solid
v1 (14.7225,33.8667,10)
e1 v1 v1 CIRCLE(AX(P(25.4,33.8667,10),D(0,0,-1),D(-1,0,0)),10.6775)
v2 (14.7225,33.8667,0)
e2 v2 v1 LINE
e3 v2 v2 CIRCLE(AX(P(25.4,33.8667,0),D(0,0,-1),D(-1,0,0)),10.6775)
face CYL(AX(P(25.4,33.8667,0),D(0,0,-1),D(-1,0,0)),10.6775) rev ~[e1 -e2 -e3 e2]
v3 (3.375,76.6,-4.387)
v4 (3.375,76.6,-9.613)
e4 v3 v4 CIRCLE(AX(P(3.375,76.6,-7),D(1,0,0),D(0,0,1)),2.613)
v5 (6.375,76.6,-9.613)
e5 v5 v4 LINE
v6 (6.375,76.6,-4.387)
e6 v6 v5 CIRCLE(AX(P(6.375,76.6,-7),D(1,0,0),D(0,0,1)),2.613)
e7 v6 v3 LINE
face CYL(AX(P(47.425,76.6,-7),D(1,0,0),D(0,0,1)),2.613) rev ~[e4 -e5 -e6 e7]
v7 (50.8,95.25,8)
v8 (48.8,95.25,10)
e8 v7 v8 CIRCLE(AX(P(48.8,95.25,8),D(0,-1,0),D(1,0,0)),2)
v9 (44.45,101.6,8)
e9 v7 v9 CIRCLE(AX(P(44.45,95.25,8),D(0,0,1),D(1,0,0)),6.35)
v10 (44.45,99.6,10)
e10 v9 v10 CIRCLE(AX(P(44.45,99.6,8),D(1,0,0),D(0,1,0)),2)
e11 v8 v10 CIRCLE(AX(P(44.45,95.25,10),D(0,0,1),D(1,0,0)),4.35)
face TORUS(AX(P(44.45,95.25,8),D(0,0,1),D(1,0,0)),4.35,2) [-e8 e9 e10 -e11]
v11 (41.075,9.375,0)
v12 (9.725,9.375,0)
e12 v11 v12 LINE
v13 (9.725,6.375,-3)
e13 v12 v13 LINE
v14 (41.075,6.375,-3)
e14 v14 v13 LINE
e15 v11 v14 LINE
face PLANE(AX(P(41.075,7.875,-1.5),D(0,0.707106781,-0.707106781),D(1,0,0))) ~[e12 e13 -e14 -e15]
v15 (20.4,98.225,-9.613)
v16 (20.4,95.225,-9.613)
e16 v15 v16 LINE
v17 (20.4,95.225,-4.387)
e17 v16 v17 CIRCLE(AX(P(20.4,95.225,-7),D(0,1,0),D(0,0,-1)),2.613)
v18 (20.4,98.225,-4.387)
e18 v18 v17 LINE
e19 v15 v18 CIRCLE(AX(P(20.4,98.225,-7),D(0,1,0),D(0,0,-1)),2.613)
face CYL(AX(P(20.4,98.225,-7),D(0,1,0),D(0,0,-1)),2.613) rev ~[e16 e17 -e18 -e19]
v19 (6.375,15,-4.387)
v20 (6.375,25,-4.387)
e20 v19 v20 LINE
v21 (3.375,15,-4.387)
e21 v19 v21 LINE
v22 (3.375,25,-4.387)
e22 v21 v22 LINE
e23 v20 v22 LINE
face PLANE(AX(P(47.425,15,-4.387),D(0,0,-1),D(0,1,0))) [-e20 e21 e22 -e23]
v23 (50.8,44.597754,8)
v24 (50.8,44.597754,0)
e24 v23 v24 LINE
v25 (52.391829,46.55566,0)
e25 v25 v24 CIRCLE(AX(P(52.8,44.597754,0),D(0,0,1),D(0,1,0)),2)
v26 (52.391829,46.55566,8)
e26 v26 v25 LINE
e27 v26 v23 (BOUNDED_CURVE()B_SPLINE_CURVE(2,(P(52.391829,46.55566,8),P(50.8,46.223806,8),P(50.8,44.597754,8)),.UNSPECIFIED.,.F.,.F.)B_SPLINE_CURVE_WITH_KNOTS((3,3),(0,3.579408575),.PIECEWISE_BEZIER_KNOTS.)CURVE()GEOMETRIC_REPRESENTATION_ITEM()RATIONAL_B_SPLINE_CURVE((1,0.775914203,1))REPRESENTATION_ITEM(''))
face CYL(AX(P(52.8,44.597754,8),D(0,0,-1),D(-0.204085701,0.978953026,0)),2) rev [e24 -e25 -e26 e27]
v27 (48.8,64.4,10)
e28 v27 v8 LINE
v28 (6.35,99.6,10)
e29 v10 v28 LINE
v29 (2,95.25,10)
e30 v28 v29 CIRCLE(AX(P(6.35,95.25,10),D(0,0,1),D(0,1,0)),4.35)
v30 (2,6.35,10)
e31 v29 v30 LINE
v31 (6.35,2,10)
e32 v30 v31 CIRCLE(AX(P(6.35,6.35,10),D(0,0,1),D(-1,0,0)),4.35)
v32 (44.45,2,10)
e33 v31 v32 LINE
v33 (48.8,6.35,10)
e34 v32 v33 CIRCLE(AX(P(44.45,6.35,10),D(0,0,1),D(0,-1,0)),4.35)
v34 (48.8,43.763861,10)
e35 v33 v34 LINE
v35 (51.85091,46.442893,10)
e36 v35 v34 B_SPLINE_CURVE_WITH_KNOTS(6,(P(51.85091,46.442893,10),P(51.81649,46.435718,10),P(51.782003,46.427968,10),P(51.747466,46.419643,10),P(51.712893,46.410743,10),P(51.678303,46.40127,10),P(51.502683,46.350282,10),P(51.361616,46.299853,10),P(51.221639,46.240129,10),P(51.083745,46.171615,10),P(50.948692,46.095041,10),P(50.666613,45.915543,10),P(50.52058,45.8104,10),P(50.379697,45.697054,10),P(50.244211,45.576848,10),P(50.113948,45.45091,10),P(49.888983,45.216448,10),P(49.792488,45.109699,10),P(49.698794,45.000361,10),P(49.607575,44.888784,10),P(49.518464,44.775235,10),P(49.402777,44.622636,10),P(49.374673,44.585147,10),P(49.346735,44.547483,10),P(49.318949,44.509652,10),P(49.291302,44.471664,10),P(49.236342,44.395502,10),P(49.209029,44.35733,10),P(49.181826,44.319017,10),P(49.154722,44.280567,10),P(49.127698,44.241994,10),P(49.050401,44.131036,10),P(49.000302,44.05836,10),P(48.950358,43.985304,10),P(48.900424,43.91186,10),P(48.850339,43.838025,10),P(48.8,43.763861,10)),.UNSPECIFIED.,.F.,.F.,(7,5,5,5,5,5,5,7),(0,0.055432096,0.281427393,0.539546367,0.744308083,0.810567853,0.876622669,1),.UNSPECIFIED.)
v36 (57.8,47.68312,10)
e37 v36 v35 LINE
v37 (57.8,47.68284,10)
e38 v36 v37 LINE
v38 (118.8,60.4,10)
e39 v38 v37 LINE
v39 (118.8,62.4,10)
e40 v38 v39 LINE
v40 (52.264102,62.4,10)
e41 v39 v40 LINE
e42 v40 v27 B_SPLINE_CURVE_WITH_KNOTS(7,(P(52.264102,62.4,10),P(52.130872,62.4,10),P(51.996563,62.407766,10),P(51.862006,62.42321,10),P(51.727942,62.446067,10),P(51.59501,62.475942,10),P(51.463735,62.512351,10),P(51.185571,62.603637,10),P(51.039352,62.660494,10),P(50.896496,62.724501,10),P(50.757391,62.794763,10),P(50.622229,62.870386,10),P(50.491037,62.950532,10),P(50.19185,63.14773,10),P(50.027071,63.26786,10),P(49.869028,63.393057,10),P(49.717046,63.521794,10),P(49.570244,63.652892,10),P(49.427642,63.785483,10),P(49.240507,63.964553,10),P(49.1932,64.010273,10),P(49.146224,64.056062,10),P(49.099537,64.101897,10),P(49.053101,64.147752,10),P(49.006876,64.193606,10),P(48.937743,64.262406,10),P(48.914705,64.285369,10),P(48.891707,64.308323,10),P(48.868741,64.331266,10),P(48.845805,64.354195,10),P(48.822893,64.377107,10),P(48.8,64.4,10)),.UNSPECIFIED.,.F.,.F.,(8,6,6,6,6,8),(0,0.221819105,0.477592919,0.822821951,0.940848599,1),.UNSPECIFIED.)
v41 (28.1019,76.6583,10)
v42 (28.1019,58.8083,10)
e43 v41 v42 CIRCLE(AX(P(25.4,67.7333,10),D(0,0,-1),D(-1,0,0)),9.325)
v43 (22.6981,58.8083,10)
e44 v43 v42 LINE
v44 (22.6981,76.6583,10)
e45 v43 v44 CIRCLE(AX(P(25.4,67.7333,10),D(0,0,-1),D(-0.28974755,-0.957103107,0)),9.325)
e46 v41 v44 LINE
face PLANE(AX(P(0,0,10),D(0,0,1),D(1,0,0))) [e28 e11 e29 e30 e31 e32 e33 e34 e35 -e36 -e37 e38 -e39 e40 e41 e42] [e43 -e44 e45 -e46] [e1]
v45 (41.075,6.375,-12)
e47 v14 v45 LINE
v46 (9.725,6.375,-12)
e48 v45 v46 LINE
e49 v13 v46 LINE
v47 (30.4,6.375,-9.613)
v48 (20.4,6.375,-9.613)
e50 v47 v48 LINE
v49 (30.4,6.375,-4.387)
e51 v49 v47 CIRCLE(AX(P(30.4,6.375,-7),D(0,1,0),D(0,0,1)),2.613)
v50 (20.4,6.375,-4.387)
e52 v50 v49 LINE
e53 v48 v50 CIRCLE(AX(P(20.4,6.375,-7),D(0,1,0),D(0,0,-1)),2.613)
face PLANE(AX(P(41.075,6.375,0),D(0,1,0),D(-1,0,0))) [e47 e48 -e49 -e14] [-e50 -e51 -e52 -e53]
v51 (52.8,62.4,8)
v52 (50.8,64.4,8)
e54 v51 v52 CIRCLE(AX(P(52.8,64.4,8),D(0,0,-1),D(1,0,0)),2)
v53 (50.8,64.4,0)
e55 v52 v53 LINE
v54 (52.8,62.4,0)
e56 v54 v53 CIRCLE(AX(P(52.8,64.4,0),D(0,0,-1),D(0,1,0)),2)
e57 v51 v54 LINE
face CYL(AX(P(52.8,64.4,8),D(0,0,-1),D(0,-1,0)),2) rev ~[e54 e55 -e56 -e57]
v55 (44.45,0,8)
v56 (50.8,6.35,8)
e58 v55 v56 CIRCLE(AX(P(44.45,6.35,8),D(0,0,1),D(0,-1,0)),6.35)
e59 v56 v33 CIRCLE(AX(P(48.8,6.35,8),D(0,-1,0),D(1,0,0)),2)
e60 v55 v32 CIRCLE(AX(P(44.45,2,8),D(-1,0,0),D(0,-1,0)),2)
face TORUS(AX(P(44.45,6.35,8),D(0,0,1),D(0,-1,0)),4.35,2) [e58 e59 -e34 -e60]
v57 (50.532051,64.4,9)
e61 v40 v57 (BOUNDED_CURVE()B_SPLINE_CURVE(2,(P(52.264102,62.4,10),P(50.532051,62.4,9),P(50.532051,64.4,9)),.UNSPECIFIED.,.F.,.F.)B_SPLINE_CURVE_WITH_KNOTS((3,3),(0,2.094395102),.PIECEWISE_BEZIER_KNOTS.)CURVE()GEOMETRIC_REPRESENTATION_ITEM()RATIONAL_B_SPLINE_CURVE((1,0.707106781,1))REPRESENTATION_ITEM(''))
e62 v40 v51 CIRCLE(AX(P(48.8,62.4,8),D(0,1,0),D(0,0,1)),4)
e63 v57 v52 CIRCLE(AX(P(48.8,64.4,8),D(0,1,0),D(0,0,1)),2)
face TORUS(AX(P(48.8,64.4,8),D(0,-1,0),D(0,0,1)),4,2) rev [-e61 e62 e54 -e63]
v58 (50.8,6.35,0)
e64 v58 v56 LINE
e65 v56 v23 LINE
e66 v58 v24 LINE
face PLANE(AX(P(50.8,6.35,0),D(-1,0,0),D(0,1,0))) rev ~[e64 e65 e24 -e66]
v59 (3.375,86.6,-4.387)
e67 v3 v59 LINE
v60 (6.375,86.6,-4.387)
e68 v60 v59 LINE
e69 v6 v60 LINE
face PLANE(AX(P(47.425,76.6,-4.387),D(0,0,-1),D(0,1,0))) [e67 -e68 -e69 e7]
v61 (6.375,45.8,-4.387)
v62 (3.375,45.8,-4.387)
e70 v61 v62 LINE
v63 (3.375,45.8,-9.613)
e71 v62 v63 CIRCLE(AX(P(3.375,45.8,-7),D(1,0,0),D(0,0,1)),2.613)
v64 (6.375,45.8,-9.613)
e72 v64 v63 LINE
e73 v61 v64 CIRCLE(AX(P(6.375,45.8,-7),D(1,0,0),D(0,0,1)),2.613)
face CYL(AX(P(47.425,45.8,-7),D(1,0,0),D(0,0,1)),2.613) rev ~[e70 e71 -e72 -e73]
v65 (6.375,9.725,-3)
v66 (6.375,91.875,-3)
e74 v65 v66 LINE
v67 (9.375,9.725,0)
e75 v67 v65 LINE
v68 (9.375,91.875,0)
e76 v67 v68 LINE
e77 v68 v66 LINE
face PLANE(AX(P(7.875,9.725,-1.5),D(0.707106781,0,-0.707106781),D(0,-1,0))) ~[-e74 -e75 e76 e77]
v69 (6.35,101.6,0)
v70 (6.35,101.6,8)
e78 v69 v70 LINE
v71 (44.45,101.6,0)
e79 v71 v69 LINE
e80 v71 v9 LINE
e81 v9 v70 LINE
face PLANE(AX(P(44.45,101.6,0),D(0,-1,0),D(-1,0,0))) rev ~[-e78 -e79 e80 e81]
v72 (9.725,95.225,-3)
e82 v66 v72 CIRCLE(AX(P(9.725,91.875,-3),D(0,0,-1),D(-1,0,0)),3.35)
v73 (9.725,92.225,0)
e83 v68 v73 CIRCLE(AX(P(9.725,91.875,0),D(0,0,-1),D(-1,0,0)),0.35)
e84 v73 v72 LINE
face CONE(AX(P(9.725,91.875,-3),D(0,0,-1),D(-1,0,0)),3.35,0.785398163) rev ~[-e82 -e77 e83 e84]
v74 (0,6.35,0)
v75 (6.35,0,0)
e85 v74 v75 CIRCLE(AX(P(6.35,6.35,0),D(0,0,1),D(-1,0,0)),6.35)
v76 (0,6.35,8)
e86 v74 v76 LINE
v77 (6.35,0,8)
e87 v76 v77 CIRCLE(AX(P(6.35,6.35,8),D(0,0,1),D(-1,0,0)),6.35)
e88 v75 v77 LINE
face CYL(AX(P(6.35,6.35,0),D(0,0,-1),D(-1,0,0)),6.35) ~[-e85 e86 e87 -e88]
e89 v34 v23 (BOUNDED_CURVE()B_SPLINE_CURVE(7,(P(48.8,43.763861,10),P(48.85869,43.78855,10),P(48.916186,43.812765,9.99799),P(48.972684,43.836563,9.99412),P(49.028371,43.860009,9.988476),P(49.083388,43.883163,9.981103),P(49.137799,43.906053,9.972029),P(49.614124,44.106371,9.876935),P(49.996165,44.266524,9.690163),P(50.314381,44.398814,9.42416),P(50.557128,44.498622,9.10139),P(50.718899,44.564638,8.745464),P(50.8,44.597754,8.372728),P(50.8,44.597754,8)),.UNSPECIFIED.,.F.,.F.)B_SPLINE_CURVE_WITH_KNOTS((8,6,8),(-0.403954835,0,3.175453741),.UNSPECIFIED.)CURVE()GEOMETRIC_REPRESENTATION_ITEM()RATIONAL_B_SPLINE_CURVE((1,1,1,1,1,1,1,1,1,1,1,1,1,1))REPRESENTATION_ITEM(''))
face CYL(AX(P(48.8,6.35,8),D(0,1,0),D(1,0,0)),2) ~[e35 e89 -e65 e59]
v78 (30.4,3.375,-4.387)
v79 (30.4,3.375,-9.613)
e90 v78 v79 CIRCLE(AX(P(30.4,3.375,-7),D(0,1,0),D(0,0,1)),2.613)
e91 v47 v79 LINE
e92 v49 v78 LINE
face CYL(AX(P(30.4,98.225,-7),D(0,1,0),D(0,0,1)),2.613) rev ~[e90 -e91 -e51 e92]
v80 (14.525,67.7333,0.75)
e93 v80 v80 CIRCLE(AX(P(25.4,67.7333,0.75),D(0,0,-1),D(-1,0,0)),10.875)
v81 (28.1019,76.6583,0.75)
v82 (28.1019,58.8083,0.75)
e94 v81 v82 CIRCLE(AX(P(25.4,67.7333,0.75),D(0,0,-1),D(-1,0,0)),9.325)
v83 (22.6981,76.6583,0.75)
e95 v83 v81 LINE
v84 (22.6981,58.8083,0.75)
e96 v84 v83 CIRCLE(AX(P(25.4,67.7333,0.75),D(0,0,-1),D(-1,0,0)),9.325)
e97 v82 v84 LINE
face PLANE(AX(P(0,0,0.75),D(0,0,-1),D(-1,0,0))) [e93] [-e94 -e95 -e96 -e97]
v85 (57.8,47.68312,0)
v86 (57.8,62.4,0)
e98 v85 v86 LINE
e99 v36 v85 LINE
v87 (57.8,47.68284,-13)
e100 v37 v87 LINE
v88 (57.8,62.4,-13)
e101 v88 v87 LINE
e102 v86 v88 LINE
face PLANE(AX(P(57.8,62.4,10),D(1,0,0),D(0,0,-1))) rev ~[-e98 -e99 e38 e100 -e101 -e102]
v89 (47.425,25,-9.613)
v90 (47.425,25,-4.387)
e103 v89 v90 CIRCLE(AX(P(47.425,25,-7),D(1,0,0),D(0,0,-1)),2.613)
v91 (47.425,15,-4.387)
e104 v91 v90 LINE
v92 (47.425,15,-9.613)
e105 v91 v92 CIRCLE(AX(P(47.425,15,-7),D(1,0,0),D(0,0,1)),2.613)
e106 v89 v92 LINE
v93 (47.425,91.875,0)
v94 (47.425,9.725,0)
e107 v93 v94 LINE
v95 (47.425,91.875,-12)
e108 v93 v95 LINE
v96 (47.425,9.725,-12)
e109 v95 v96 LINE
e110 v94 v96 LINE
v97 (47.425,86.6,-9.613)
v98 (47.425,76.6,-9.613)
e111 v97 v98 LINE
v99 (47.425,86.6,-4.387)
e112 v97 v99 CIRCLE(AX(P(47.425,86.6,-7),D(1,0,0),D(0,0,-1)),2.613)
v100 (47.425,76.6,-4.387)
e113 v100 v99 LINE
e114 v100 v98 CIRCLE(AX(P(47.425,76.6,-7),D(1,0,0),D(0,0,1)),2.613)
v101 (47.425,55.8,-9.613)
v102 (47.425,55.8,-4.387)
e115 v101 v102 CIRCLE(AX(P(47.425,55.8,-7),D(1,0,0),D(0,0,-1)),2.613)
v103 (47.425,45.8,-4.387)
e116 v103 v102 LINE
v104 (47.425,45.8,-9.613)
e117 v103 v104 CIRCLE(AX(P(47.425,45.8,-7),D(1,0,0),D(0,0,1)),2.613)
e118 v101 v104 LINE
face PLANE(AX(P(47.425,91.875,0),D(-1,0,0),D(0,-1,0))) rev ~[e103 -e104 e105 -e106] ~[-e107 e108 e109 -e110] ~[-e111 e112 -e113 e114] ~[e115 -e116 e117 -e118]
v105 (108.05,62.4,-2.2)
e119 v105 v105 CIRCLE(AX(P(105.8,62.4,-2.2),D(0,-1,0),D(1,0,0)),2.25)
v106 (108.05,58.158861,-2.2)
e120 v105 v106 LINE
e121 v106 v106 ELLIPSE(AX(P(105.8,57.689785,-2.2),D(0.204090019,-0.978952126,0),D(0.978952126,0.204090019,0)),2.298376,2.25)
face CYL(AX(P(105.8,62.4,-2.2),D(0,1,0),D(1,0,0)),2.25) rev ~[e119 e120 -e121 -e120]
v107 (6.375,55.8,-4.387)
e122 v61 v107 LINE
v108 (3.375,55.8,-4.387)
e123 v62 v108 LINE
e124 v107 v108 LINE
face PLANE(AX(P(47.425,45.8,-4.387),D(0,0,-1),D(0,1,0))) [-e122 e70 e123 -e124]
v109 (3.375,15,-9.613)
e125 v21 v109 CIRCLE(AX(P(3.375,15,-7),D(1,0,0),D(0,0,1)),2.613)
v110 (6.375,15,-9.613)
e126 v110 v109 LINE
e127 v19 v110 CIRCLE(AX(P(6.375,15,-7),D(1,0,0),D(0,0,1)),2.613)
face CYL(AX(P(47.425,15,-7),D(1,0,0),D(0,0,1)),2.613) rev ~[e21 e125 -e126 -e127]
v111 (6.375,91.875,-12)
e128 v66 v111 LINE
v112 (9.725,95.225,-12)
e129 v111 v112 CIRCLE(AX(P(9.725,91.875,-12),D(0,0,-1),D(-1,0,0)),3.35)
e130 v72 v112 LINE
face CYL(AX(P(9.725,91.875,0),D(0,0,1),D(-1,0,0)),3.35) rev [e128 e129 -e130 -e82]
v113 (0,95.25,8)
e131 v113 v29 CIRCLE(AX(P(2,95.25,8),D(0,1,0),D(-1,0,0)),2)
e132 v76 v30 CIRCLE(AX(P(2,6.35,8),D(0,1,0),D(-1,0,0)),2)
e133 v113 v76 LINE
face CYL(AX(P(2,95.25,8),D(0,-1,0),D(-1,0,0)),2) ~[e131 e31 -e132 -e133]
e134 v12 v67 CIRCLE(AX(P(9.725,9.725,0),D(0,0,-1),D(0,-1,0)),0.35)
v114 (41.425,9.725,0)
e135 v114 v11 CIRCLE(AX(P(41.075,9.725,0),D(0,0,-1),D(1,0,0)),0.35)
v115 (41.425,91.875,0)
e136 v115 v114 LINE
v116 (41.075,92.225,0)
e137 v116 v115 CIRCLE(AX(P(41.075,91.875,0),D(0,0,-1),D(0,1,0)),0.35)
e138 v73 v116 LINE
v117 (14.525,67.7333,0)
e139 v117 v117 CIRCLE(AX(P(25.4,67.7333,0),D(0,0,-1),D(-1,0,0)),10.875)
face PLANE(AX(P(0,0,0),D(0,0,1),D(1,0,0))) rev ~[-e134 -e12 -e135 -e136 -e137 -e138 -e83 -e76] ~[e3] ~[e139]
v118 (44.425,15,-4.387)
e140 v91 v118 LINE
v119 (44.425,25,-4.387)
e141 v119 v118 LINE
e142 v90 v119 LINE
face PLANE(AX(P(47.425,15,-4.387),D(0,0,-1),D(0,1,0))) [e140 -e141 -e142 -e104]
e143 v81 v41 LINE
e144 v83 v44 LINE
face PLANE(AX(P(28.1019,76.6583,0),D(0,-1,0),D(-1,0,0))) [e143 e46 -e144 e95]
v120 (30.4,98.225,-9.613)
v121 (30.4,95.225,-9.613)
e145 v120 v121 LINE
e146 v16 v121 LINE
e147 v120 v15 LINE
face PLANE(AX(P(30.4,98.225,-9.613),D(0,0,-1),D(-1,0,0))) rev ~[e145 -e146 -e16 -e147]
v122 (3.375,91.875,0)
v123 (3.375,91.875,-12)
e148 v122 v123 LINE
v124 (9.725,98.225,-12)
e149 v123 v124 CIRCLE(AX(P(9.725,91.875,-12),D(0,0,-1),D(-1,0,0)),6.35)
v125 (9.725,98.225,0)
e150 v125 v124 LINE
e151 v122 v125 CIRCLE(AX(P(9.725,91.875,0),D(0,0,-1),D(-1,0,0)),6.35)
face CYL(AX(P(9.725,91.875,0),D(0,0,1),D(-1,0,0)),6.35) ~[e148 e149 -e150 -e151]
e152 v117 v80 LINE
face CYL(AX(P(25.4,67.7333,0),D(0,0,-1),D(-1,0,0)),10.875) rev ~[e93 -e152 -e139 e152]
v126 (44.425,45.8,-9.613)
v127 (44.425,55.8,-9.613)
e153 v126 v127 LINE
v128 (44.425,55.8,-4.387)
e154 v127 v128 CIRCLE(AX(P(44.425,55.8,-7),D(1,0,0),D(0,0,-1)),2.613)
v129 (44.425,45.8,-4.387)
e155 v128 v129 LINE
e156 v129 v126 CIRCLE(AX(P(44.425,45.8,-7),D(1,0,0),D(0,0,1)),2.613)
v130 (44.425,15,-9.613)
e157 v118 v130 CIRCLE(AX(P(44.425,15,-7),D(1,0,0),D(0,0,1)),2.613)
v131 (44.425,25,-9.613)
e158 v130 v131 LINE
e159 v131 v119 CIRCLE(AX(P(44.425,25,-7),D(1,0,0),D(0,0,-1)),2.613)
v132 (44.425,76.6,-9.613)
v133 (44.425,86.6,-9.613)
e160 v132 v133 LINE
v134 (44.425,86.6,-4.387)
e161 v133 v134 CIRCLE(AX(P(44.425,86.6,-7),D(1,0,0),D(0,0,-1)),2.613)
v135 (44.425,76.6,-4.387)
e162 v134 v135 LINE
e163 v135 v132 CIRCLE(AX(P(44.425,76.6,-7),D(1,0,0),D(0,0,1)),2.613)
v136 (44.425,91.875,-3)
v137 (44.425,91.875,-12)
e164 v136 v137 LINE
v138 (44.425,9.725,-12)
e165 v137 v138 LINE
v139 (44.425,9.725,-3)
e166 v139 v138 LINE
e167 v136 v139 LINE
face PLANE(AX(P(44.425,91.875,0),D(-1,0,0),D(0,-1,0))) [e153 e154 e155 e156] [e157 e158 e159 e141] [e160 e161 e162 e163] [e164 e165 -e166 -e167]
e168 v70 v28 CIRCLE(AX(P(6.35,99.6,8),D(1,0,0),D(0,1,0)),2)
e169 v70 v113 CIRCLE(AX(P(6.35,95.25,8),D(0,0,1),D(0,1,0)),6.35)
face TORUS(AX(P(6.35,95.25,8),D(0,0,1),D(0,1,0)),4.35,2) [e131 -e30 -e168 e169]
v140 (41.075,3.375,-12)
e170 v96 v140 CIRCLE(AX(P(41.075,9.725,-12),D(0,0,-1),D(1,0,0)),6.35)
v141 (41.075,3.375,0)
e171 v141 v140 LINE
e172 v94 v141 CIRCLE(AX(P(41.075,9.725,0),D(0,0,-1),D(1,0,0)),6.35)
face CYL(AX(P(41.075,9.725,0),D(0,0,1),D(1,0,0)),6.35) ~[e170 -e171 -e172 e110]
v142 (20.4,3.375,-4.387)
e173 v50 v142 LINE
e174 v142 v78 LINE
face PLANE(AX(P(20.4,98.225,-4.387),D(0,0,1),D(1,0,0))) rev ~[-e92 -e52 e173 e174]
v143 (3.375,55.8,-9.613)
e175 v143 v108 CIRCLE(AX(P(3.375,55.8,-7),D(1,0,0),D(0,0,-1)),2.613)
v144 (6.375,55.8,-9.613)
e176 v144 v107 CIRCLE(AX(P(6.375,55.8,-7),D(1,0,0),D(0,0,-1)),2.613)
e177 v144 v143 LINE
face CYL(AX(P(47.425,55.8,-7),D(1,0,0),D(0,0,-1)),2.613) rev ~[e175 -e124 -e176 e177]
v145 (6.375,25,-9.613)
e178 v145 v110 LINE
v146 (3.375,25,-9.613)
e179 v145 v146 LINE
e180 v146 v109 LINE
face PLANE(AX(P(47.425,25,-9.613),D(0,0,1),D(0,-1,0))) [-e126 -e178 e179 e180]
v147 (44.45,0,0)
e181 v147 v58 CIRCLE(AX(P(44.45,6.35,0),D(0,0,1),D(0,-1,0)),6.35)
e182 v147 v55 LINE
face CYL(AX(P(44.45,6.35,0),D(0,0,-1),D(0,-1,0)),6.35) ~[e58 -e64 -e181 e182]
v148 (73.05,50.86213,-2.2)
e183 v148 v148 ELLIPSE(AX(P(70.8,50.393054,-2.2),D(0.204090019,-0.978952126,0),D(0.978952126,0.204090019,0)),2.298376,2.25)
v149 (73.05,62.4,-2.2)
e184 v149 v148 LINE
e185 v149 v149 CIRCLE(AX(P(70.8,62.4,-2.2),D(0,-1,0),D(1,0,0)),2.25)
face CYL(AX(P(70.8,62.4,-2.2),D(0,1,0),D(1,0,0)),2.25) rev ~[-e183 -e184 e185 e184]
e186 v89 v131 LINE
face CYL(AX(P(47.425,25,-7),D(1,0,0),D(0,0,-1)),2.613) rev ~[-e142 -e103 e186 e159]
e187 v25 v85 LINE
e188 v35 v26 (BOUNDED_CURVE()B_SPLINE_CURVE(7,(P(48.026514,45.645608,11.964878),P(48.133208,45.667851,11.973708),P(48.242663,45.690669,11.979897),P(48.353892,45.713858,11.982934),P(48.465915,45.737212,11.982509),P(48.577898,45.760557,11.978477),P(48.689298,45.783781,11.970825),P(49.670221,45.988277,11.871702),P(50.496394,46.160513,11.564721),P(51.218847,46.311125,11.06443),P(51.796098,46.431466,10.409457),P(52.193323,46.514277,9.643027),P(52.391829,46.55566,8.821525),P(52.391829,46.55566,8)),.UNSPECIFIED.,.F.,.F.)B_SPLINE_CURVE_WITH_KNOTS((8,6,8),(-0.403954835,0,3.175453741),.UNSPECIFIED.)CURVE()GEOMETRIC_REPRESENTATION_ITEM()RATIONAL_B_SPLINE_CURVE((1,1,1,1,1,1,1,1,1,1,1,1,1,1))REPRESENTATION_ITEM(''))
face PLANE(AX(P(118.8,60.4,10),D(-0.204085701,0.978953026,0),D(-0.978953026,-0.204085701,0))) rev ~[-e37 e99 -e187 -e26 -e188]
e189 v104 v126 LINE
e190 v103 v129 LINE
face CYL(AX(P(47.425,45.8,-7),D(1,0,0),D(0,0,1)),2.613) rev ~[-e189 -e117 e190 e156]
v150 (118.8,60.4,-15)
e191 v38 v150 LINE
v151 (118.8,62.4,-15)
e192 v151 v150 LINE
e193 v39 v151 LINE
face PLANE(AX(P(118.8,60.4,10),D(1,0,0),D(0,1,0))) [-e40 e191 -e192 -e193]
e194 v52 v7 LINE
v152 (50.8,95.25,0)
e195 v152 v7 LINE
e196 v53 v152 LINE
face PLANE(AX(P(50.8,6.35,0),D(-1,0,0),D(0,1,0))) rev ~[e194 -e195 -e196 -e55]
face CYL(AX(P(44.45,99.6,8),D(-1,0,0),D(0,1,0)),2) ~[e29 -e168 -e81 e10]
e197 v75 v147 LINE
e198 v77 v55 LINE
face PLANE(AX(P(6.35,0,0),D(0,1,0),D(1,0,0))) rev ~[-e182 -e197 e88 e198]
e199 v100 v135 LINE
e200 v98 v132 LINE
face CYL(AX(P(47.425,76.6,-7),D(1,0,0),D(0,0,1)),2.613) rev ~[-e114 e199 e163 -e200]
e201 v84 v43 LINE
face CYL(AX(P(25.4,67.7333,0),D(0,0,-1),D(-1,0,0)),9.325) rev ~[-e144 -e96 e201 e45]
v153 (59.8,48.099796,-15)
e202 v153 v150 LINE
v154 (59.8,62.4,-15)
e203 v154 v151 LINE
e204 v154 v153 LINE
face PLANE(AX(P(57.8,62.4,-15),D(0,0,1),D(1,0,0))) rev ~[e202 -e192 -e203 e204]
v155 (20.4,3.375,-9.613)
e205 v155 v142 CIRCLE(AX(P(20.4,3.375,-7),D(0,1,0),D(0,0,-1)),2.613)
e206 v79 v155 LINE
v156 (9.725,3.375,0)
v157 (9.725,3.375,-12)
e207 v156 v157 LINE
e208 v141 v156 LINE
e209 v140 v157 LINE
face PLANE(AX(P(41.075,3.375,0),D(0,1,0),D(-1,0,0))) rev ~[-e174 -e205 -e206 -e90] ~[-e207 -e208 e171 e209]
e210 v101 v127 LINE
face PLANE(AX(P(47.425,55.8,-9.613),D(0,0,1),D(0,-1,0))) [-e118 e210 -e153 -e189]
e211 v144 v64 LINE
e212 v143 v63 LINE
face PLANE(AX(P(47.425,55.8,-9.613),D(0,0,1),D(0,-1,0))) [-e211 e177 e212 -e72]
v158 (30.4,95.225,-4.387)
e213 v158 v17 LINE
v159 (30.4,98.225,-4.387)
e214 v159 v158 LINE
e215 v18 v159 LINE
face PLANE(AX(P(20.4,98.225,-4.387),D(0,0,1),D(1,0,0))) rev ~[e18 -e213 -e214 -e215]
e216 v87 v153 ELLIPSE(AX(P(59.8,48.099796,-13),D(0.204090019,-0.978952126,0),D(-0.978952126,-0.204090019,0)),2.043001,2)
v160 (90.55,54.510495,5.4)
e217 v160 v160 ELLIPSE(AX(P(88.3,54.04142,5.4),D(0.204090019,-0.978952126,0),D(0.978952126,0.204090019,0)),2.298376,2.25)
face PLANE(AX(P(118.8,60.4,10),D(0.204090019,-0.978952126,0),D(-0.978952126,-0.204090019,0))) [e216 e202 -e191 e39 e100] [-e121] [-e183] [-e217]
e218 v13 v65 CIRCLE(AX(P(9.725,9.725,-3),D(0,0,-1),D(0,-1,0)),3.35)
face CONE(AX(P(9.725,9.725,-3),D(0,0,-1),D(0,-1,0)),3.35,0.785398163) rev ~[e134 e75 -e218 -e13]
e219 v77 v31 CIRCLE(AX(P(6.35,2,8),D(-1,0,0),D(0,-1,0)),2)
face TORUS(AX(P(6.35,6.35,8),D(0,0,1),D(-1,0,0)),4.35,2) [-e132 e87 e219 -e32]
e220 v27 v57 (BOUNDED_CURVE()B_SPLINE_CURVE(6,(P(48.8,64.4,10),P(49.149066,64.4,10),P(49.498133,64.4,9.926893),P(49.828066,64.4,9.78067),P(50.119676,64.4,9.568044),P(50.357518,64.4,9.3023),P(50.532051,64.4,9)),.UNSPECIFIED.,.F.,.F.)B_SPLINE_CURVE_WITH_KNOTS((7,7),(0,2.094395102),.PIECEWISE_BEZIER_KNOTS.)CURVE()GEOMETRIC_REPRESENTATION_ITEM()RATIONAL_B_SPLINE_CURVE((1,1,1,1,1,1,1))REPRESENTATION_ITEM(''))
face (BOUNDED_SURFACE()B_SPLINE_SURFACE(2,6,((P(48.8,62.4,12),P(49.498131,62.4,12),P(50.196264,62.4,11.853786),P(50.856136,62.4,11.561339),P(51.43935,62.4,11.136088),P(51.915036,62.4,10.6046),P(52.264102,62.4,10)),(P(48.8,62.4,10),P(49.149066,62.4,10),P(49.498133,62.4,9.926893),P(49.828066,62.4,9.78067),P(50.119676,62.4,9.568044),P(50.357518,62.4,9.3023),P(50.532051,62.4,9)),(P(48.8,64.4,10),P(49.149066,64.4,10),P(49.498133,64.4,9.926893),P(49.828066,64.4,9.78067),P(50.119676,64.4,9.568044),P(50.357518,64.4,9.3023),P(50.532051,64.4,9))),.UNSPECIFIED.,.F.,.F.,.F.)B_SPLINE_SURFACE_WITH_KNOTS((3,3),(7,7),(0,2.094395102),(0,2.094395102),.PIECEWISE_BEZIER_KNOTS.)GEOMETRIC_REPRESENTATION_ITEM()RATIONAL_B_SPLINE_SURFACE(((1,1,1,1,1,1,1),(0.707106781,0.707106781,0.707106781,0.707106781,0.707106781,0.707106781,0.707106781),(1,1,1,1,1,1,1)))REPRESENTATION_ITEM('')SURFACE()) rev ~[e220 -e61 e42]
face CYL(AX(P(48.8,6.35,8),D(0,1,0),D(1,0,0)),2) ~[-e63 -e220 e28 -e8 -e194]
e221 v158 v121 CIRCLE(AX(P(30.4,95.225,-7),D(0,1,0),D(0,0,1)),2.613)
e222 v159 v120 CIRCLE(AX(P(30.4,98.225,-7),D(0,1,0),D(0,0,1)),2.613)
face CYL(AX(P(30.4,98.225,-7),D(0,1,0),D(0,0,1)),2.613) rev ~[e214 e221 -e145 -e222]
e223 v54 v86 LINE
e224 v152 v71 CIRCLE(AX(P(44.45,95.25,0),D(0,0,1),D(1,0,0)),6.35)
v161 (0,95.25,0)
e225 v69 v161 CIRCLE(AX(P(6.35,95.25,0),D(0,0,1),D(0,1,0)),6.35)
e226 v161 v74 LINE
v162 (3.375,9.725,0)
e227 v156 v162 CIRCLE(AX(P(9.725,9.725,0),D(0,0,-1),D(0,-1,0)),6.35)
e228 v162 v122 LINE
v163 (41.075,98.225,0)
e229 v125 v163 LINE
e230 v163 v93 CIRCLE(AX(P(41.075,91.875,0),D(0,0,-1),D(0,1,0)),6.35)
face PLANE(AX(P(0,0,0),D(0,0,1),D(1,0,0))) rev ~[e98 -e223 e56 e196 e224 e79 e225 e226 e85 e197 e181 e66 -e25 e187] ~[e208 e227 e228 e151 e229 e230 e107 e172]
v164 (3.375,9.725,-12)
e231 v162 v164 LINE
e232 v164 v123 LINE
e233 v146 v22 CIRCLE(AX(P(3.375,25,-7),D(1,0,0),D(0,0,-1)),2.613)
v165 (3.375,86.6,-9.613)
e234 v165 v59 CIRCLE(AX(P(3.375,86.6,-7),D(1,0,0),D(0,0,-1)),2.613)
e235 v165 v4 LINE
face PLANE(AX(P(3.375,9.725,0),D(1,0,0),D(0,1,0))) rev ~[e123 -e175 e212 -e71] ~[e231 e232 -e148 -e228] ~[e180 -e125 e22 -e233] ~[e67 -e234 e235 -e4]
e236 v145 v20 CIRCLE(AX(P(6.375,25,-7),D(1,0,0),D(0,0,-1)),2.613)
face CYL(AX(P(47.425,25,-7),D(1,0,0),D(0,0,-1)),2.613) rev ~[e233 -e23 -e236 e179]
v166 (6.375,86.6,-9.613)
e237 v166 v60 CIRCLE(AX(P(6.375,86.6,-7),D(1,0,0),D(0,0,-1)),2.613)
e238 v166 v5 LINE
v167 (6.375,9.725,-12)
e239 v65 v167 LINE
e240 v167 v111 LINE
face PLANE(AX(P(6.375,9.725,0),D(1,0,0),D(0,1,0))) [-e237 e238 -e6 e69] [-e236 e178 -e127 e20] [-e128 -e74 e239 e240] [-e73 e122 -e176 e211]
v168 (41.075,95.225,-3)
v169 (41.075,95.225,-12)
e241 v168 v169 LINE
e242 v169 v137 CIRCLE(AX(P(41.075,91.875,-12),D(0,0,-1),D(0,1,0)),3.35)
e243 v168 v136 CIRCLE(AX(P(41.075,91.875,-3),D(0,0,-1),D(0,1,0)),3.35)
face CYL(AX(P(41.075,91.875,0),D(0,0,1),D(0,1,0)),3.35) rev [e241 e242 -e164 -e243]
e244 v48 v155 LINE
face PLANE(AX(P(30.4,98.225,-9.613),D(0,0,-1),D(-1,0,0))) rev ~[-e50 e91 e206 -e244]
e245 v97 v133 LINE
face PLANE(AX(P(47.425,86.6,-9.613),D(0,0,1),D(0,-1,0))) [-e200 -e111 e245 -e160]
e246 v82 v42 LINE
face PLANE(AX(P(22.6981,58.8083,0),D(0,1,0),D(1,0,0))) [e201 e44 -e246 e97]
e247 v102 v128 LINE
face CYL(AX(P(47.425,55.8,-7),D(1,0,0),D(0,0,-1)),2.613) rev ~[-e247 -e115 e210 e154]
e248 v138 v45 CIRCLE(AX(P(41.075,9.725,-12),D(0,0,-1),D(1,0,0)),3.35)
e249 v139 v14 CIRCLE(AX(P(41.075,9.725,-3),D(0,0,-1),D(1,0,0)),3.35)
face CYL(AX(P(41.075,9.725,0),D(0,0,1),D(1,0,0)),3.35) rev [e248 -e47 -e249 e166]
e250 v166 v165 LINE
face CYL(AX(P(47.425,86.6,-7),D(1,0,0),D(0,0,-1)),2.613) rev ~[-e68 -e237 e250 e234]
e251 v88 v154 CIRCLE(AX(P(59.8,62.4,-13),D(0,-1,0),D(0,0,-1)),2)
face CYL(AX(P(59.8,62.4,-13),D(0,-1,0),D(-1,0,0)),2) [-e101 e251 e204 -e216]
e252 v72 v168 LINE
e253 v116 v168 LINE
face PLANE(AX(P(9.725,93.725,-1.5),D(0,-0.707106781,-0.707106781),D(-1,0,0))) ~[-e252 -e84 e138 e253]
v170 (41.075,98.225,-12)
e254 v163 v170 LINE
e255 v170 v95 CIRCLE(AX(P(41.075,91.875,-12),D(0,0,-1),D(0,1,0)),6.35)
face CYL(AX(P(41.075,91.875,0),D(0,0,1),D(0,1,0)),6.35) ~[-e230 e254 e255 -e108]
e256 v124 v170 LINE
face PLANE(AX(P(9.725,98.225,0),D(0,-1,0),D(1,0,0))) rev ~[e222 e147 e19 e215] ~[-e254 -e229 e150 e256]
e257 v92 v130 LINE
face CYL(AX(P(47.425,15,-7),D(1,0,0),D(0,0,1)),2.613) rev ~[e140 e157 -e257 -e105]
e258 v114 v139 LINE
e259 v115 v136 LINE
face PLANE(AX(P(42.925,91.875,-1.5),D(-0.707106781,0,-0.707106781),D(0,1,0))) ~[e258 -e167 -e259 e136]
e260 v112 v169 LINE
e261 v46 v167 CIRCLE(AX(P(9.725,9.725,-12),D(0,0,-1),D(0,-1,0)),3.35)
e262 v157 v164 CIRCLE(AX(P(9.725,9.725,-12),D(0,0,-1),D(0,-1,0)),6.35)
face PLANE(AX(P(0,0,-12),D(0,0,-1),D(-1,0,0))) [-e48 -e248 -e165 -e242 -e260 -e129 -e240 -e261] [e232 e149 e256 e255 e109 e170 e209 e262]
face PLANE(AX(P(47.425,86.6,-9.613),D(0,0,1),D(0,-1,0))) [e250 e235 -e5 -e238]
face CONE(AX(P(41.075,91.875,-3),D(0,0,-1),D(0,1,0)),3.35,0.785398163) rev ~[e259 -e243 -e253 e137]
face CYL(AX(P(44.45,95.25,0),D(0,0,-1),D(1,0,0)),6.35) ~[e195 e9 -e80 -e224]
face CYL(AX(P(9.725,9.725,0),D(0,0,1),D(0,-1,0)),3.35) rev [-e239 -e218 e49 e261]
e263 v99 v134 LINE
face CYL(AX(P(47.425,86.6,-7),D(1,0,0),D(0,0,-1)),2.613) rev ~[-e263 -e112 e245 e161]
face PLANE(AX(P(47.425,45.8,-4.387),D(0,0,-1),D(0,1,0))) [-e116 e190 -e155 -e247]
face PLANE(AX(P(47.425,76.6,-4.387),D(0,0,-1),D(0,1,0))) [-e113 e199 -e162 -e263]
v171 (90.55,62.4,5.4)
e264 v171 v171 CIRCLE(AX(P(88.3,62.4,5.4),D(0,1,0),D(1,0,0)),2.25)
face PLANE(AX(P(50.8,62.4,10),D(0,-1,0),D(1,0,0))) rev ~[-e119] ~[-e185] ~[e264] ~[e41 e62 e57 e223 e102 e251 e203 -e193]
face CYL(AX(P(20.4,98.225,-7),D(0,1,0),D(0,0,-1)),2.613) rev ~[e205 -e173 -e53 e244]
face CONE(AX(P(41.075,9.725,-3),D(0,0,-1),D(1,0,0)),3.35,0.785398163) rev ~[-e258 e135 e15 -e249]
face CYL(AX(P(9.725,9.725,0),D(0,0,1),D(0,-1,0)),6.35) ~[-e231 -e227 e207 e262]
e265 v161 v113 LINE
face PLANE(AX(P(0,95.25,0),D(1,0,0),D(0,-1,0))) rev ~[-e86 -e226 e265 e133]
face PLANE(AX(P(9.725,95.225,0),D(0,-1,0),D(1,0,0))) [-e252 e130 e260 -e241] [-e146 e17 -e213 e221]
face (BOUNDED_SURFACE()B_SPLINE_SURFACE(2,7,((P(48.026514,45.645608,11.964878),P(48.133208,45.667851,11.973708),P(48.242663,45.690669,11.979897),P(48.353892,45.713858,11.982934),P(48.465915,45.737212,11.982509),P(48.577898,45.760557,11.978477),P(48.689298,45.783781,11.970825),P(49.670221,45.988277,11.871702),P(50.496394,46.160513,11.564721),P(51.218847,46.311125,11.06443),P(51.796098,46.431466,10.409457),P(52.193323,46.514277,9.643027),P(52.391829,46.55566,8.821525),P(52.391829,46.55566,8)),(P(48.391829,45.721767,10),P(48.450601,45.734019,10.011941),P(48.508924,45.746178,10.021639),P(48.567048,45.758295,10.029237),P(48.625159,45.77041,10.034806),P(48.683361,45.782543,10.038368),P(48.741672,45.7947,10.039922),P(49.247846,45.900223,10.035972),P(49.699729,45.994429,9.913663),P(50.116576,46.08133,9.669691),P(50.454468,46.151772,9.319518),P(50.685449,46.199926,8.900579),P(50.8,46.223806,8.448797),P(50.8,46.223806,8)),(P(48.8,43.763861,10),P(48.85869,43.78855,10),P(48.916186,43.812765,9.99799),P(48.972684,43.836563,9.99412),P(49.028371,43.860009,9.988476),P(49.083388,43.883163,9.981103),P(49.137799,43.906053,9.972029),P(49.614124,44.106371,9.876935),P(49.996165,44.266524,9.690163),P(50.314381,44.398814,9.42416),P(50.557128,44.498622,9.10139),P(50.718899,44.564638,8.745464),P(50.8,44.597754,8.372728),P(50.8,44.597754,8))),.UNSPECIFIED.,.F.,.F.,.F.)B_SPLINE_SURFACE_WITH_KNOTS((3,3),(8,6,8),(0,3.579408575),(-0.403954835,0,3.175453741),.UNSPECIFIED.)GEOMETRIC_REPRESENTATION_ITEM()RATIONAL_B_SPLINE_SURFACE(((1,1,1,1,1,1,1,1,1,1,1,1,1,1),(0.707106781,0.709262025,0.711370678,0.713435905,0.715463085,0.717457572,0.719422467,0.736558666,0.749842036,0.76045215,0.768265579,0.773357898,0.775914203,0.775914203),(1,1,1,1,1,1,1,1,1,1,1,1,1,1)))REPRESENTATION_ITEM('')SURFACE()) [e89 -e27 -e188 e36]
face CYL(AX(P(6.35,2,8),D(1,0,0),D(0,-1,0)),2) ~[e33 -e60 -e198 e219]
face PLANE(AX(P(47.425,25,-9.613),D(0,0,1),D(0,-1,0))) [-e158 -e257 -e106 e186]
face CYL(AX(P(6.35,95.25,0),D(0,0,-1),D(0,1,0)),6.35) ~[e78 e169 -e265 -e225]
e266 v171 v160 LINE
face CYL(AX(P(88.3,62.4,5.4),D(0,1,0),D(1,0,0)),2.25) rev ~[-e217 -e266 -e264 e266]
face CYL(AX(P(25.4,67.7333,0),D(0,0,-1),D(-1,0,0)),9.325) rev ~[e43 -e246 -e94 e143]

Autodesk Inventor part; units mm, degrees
ref_plane "YZ Plane" through (0, 0, 0) normal (1, 0, 0) x (0, 1, 0)
ref_plane "XZ Plane" through (0, 0, 0) normal (0, 1, 0) x (-1, 0, 0)
ref_plane "XY Plane" through (0, 0, 0) normal (0, 0, 1) x (1, 0, 0)
sketch "Sketch1" plane through (0, 0, 0) normal (0, 0, 1) x (1, 0, 0)
  line L0 (6.35, 0) -> (44.45, 0)
  line L1 (50.8, 6.35) -> (50.8, 95.25)
  line L2 (44.45, 101.6) -> (6.35, 101.6)
  line L3 (0, 95.25) -> (0, 6.35)
  arc A0 (6.35, 101.6) -> (0, 95.25) centre (6.35, 95.25) ccw
  arc A1 (0, 6.35) -> (6.35, 0) centre (6.35, 6.35) ccw
  arc A2 (44.45, 0) -> (50.8, 6.35) centre (44.45, 6.35) ccw
  arc A3 (50.8, 95.25) -> (44.45, 101.6) centre (44.45, 95.25) ccw
  point P0 (0, 0)
  point P1 (50.8, 101.6)
  point P2 (50.8, 0)
  point P3 (0, 101.6)
  dimension "d0" = 101.6
  dimension "d1" = 50.8
  dimension "d2" = 6.35
extrude "Extrusion1" add sketch "Sketch1" along normal blind 10
fillet "Fillet1" radius 2 8 edges at (1.8599, 99.7401, 10) (0, 50.8, 10) (1.8599, 1.8599, 10) (25.4, 0, 10) (48.9401, 1.8599, 10) (50.8, 50.8, 10) (48.9401, 99.7401, 10) (25.4, 101.6, 10)
sketch "Sketch3" plane through (0, 0, 0) normal (0, 0, -1) x (-1, 0, 0)
  circle A0 centre (-25.4, 33.8667) radius 10.6775
  line L0 (-6.35, 0) -> (-44.45, 0) construction
  line L1 (-44.45, 101.6) -> (-6.35, 101.6) construction
  line L2 (-25.4, 101.6) -> (-25.4, 0) construction
  line L3 (-17.4326, 20.0667) -> (-33.3674, 20.0667)
  line L4 (-33.3674, 20.0667) -> (-41.3349, 33.8667)
  line L5 (-41.3349, 33.8667) -> (-33.3674, 47.6667)
  line L6 (-33.3674, 47.6667) -> (-17.4326, 47.6667)
  line L7 (-17.4326, 47.6667) -> (-9.4651, 33.8667)
  line L8 (-9.4651, 33.8667) -> (-17.4326, 20.0667)
  point P0 (0, 0)
  point P1 (-25.4, 33.8667)
  dimension "d8" = 21.355
  dimension "d9" = 33.8667
  dimension "d20" = 27.6
sketch "Sketch2" plane through (0, 0, 0) normal (0, 0, -1) x (-1, 0, 0)
  line L0 (-41.075, 3.375) -> (-9.725, 3.375)
  line L1 (-3.375, 9.725) -> (-3.375, 91.875)
  line L2 (-9.725, 98.225) -> (-41.075, 98.225)
  line L3 (-47.425, 91.875) -> (-47.425, 9.725)
  line L4 (-44.45, 101.6) -> (-6.35, 101.6) construction
  line L5 (-50.8, 6.35) -> (-50.8, 95.25) projected
  line L6 (-25.4, 98.225) -> (-25.4, 101.6) construction
  line L7 (-50.8, 6.35) -> (-50.8, 95.25) construction
  line L8 (-50.8, 50.8) -> (-47.425, 50.8) construction
  arc A0 (-41.075, 98.225) -> (-47.425, 91.875) centre (-41.075, 91.875) ccw
  arc A1 (-3.375, 91.875) -> (-9.725, 98.225) centre (-9.725, 91.875) ccw
  arc A2 (-47.425, 9.725) -> (-41.075, 3.375) centre (-41.075, 9.725) ccw
  arc A3 (-9.725, 3.375) -> (-3.375, 9.725) centre (-9.725, 9.725) ccw
  arc A4 (-44.425, 9.725) -> (-41.075, 6.375) centre (-41.075, 9.725) ccw
  arc A5 (-9.725, 6.375) -> (-6.375, 9.725) centre (-9.725, 9.725) ccw
  arc A6 (-6.375, 91.875) -> (-9.725, 95.225) centre (-9.725, 91.875) ccw
  arc A7 (-41.075, 95.225) -> (-44.425, 91.875) centre (-41.075, 91.875) ccw
  line L9 (-44.425, 91.875) -> (-44.425, 9.725)
  line L10 (-48.8, 95.25) -> (-48.8, 6.35) projected
  line L11 (-41.075, 6.375) -> (-9.725, 6.375)
  line L12 (-6.375, 9.725) -> (-6.375, 91.875)
  line L13 (-9.725, 95.225) -> (-41.075, 95.225)
  point P0 (0, 0)
  point P1 (-9.725, 6.375)
  dimension "d6" = 3.375
  dimension "d7" = 6.35
  dimension "d14" = 3
  dimension "d15" = 3
sketch "Sketch4" plane through (0, 0, 0) normal (0, 0, -1) x (-1, 0, 0)
  line L0 (-25.4, 101.6) -> (-25.4, 0) construction
  circle A0 centre (-25.4, 67.7333) radius 9.325
  line L1 (-44.45, 101.6) -> (-6.35, 101.6) construction
  line L2 (-28.1019, 76.6583) -> (-22.6981, 76.6583)
  line L3 (-22.6981, 58.8083) -> (-28.1019, 58.8083)
  point P0 (0, 0)
  dimension "d10" = 33.8667
  dimension "d11" = 18.65
  dimension "d13" = 17.85
extrude "Extrusion2" add sketch "Sketch2" along normal blind 12
extrude "Extrusion3" cut sketch "Sketch4" against normal up to surface (10 mm away) contours A0 L3 L2
extrude "Extrusion4" cut sketch "Sketch3" against normal up to surface (10 mm away) contours A0
sketch "Sketch5" plane through (0, 0, 0) normal (0, 0, -1) x (-1, 0, 0)
  arc A0 (-28.1019, 76.6583) -> (-28.1019, 58.8083) centre (-25.4, 67.7333) ccw projected
  circle A1 centre (-25.4, 67.7333) radius 10.875
  point P0 (0, 0)
  dimension "d23" = 21.75
extrude "Extrusion5" cut sketch "Sketch5" against normal blind 0.75
chamfer "Chamfer1" distance 3 angle 45 8 edges at (6.375, 50.8, 0) (7.3562, 94.2438, 0) (25.4, 95.225, 0) (43.4438, 94.2438, 0) (44.425, 50.8, 0) (43.4438, 7.3562, 0) (25.4, 6.375, 0) (7.3562, 7.3562, 0)
sketch "Sketch6" plane through (47.425, 9.725, 0) normal (1, 0, 0) x (0, 0, -1)
  line L0 (7, 15.275) -> (7, 5.275) construction
  line L1 (9.613, 15.275) -> (9.613, 5.275)
  line L2 (4.387, 5.275) -> (4.387, 15.275)
  arc A0 (9.613, 15.275) -> (4.387, 15.275) centre (7, 15.275) ccw
  arc A1 (4.387, 5.275) -> (9.613, 5.275) centre (7, 5.275) ccw
  line L3 (0, -9.725) -> (7, -9.725) construction
  line L4 (7, -9.725) -> (7, 91.875) construction
  line L5 (0, 91.875) -> (0, 85.525) construction
  line L6 (0, 91.875) -> (7, 91.875) construction
  line L7 (7, 76.875) -> (7, 66.875) construction
  line L8 (9.613, 76.875) -> (9.613, 66.875)
  line L9 (4.387, 66.875) -> (4.387, 76.875)
  arc A2 (9.613, 76.875) -> (4.387, 76.875) centre (7, 76.875) ccw
  arc A3 (4.387, 66.875) -> (9.613, 66.875) centre (7, 66.875) ccw
  line L10 (7, 46.075) -> (7, 36.075) construction
  line L11 (9.613, 46.075) -> (9.613, 36.075)
  line L12 (4.387, 36.075) -> (4.387, 46.075)
  arc A4 (9.613, 46.075) -> (4.387, 46.075) centre (7, 46.075) ccw
  arc A5 (4.387, 36.075) -> (9.613, 36.075) centre (7, 36.075) ccw
  point P0 (7, 10.275)
  point P1 (7, 71.875)
  point P2 (7, 41.075)
  dimension "d29" = 2.613
  dimension "d30" = 7
  dimension "d31" = 2.613
  dimension "d32" = 20
  dimension "d33" = 20
  dimension "d34" = 2.613
  dimension "d35" = 10
extrude "Extrusion6" cut sketch "Sketch6" against normal through all
sketch "Sketch7" plane through (9.725, 98.225, 0) normal (0, 1, 0) x (1, 0, 0)
  line L0 (-9.725, 0) -> (-9.725, -8) construction
  line L1 (-9.725, 0) -> (-9.725, 7) construction
  line L2 (-9.725, 7) -> (41.075, 7) construction
  line L3 (41.075, 7) -> (41.075, 0) construction
  line L4 (10.675, 7) -> (20.675, 7) construction
  line L5 (10.675, 4.387) -> (20.675, 4.387)
  line L6 (20.675, 9.613) -> (10.675, 9.613)
  arc A0 (10.675, 9.613) -> (10.675, 4.387) centre (10.675, 7) ccw
  arc A1 (20.675, 4.387) -> (20.675, 9.613) centre (20.675, 7) ccw
  point P0 (15.675, 7)
  dimension "d38" = 2.613
  dimension "d39" = 10
  dimension "d40" = 7
extrude "Extrusion7" cut sketch "Sketch7" against normal through all
sketch "Sketch8" plane through (0, 0, 10) normal (0, 0, 1) x (1, 0, 0)
  line L0 (118.8, 60.4) -> (118.8, 62.4)
  line L1 (44.45, 0) -> (44.45, 62.4)
  line L2 (44.45, 62.4) -> (118.8, 62.4)
  line L3 (118.8, 60.4) -> (44.45, 44.9)
  line L4 (50.8, 6.35) -> (50.8, 95.25) projected
  point P0 (0, 0)
  dimension "d43" = 2
  dimension "d44" = 17.5
  dimension "d45" = 68
  dimension "d46" = 62.4
extrude "Extrusion8" add sketch "Sketch8" against normal up to surface (10 mm away)
sketch "Sketch9" plane through (48.8, 62.4, 10) normal (0, 1, 0) x (1, 0, 0)
  circle A0 centre (39.5, 4.6) radius 2.25
  circle A1 centre (22, 12.2) radius 2.25
  circle A2 centre (57, 12.2) radius 2.25
  line L0 (39.5, 4.6) -> (39.5, 12.2) construction
  line L1 (22, 12.2) -> (57, 12.2) construction
  line L2 (0, 0) -> (70, 0) construction
  line L3 (9, 0) -> (9, 25)
  line L4 (9, 25) -> (70, 25)
  line L5 (70, 0) -> (70, 10) projected
  line L6 (70, 25) -> (70, 0)
  line L7 (70, 0) -> (9, 0)
  line L8 (22, 12.2) -> (9, 12.2) construction
  line L9 (2, 10) -> (2, 2) projected
  point P0 (-48.8, 10)
  dimension "d49" = 4.5
  dimension "d50" = 7.6
  dimension "d51" = 35
  dimension "d52" = 13
  dimension "d53" = 7
  dimension "d54" = 4.6
  dimension "d55" = 25
extrude "Extrusion9" add sketch "Sketch9" against normal up to surface surface through (118.8, 60.4, 10) normal (0.2041, -0.979, 0)
extrude "Extrusion10" cut sketch "Sketch9" against normal through all contours A0 | A1 | A2
fillet "Fillet2" radius 2 5 edges at (57.8, 55.0416, -15) (50.2142, 62.4, 9.4142) (50.8, 62.4, 4) (50.2142, 46.1017, 9.4142) (50.8, 46.2238, 4)
properties part number "2x4_Endcap"
